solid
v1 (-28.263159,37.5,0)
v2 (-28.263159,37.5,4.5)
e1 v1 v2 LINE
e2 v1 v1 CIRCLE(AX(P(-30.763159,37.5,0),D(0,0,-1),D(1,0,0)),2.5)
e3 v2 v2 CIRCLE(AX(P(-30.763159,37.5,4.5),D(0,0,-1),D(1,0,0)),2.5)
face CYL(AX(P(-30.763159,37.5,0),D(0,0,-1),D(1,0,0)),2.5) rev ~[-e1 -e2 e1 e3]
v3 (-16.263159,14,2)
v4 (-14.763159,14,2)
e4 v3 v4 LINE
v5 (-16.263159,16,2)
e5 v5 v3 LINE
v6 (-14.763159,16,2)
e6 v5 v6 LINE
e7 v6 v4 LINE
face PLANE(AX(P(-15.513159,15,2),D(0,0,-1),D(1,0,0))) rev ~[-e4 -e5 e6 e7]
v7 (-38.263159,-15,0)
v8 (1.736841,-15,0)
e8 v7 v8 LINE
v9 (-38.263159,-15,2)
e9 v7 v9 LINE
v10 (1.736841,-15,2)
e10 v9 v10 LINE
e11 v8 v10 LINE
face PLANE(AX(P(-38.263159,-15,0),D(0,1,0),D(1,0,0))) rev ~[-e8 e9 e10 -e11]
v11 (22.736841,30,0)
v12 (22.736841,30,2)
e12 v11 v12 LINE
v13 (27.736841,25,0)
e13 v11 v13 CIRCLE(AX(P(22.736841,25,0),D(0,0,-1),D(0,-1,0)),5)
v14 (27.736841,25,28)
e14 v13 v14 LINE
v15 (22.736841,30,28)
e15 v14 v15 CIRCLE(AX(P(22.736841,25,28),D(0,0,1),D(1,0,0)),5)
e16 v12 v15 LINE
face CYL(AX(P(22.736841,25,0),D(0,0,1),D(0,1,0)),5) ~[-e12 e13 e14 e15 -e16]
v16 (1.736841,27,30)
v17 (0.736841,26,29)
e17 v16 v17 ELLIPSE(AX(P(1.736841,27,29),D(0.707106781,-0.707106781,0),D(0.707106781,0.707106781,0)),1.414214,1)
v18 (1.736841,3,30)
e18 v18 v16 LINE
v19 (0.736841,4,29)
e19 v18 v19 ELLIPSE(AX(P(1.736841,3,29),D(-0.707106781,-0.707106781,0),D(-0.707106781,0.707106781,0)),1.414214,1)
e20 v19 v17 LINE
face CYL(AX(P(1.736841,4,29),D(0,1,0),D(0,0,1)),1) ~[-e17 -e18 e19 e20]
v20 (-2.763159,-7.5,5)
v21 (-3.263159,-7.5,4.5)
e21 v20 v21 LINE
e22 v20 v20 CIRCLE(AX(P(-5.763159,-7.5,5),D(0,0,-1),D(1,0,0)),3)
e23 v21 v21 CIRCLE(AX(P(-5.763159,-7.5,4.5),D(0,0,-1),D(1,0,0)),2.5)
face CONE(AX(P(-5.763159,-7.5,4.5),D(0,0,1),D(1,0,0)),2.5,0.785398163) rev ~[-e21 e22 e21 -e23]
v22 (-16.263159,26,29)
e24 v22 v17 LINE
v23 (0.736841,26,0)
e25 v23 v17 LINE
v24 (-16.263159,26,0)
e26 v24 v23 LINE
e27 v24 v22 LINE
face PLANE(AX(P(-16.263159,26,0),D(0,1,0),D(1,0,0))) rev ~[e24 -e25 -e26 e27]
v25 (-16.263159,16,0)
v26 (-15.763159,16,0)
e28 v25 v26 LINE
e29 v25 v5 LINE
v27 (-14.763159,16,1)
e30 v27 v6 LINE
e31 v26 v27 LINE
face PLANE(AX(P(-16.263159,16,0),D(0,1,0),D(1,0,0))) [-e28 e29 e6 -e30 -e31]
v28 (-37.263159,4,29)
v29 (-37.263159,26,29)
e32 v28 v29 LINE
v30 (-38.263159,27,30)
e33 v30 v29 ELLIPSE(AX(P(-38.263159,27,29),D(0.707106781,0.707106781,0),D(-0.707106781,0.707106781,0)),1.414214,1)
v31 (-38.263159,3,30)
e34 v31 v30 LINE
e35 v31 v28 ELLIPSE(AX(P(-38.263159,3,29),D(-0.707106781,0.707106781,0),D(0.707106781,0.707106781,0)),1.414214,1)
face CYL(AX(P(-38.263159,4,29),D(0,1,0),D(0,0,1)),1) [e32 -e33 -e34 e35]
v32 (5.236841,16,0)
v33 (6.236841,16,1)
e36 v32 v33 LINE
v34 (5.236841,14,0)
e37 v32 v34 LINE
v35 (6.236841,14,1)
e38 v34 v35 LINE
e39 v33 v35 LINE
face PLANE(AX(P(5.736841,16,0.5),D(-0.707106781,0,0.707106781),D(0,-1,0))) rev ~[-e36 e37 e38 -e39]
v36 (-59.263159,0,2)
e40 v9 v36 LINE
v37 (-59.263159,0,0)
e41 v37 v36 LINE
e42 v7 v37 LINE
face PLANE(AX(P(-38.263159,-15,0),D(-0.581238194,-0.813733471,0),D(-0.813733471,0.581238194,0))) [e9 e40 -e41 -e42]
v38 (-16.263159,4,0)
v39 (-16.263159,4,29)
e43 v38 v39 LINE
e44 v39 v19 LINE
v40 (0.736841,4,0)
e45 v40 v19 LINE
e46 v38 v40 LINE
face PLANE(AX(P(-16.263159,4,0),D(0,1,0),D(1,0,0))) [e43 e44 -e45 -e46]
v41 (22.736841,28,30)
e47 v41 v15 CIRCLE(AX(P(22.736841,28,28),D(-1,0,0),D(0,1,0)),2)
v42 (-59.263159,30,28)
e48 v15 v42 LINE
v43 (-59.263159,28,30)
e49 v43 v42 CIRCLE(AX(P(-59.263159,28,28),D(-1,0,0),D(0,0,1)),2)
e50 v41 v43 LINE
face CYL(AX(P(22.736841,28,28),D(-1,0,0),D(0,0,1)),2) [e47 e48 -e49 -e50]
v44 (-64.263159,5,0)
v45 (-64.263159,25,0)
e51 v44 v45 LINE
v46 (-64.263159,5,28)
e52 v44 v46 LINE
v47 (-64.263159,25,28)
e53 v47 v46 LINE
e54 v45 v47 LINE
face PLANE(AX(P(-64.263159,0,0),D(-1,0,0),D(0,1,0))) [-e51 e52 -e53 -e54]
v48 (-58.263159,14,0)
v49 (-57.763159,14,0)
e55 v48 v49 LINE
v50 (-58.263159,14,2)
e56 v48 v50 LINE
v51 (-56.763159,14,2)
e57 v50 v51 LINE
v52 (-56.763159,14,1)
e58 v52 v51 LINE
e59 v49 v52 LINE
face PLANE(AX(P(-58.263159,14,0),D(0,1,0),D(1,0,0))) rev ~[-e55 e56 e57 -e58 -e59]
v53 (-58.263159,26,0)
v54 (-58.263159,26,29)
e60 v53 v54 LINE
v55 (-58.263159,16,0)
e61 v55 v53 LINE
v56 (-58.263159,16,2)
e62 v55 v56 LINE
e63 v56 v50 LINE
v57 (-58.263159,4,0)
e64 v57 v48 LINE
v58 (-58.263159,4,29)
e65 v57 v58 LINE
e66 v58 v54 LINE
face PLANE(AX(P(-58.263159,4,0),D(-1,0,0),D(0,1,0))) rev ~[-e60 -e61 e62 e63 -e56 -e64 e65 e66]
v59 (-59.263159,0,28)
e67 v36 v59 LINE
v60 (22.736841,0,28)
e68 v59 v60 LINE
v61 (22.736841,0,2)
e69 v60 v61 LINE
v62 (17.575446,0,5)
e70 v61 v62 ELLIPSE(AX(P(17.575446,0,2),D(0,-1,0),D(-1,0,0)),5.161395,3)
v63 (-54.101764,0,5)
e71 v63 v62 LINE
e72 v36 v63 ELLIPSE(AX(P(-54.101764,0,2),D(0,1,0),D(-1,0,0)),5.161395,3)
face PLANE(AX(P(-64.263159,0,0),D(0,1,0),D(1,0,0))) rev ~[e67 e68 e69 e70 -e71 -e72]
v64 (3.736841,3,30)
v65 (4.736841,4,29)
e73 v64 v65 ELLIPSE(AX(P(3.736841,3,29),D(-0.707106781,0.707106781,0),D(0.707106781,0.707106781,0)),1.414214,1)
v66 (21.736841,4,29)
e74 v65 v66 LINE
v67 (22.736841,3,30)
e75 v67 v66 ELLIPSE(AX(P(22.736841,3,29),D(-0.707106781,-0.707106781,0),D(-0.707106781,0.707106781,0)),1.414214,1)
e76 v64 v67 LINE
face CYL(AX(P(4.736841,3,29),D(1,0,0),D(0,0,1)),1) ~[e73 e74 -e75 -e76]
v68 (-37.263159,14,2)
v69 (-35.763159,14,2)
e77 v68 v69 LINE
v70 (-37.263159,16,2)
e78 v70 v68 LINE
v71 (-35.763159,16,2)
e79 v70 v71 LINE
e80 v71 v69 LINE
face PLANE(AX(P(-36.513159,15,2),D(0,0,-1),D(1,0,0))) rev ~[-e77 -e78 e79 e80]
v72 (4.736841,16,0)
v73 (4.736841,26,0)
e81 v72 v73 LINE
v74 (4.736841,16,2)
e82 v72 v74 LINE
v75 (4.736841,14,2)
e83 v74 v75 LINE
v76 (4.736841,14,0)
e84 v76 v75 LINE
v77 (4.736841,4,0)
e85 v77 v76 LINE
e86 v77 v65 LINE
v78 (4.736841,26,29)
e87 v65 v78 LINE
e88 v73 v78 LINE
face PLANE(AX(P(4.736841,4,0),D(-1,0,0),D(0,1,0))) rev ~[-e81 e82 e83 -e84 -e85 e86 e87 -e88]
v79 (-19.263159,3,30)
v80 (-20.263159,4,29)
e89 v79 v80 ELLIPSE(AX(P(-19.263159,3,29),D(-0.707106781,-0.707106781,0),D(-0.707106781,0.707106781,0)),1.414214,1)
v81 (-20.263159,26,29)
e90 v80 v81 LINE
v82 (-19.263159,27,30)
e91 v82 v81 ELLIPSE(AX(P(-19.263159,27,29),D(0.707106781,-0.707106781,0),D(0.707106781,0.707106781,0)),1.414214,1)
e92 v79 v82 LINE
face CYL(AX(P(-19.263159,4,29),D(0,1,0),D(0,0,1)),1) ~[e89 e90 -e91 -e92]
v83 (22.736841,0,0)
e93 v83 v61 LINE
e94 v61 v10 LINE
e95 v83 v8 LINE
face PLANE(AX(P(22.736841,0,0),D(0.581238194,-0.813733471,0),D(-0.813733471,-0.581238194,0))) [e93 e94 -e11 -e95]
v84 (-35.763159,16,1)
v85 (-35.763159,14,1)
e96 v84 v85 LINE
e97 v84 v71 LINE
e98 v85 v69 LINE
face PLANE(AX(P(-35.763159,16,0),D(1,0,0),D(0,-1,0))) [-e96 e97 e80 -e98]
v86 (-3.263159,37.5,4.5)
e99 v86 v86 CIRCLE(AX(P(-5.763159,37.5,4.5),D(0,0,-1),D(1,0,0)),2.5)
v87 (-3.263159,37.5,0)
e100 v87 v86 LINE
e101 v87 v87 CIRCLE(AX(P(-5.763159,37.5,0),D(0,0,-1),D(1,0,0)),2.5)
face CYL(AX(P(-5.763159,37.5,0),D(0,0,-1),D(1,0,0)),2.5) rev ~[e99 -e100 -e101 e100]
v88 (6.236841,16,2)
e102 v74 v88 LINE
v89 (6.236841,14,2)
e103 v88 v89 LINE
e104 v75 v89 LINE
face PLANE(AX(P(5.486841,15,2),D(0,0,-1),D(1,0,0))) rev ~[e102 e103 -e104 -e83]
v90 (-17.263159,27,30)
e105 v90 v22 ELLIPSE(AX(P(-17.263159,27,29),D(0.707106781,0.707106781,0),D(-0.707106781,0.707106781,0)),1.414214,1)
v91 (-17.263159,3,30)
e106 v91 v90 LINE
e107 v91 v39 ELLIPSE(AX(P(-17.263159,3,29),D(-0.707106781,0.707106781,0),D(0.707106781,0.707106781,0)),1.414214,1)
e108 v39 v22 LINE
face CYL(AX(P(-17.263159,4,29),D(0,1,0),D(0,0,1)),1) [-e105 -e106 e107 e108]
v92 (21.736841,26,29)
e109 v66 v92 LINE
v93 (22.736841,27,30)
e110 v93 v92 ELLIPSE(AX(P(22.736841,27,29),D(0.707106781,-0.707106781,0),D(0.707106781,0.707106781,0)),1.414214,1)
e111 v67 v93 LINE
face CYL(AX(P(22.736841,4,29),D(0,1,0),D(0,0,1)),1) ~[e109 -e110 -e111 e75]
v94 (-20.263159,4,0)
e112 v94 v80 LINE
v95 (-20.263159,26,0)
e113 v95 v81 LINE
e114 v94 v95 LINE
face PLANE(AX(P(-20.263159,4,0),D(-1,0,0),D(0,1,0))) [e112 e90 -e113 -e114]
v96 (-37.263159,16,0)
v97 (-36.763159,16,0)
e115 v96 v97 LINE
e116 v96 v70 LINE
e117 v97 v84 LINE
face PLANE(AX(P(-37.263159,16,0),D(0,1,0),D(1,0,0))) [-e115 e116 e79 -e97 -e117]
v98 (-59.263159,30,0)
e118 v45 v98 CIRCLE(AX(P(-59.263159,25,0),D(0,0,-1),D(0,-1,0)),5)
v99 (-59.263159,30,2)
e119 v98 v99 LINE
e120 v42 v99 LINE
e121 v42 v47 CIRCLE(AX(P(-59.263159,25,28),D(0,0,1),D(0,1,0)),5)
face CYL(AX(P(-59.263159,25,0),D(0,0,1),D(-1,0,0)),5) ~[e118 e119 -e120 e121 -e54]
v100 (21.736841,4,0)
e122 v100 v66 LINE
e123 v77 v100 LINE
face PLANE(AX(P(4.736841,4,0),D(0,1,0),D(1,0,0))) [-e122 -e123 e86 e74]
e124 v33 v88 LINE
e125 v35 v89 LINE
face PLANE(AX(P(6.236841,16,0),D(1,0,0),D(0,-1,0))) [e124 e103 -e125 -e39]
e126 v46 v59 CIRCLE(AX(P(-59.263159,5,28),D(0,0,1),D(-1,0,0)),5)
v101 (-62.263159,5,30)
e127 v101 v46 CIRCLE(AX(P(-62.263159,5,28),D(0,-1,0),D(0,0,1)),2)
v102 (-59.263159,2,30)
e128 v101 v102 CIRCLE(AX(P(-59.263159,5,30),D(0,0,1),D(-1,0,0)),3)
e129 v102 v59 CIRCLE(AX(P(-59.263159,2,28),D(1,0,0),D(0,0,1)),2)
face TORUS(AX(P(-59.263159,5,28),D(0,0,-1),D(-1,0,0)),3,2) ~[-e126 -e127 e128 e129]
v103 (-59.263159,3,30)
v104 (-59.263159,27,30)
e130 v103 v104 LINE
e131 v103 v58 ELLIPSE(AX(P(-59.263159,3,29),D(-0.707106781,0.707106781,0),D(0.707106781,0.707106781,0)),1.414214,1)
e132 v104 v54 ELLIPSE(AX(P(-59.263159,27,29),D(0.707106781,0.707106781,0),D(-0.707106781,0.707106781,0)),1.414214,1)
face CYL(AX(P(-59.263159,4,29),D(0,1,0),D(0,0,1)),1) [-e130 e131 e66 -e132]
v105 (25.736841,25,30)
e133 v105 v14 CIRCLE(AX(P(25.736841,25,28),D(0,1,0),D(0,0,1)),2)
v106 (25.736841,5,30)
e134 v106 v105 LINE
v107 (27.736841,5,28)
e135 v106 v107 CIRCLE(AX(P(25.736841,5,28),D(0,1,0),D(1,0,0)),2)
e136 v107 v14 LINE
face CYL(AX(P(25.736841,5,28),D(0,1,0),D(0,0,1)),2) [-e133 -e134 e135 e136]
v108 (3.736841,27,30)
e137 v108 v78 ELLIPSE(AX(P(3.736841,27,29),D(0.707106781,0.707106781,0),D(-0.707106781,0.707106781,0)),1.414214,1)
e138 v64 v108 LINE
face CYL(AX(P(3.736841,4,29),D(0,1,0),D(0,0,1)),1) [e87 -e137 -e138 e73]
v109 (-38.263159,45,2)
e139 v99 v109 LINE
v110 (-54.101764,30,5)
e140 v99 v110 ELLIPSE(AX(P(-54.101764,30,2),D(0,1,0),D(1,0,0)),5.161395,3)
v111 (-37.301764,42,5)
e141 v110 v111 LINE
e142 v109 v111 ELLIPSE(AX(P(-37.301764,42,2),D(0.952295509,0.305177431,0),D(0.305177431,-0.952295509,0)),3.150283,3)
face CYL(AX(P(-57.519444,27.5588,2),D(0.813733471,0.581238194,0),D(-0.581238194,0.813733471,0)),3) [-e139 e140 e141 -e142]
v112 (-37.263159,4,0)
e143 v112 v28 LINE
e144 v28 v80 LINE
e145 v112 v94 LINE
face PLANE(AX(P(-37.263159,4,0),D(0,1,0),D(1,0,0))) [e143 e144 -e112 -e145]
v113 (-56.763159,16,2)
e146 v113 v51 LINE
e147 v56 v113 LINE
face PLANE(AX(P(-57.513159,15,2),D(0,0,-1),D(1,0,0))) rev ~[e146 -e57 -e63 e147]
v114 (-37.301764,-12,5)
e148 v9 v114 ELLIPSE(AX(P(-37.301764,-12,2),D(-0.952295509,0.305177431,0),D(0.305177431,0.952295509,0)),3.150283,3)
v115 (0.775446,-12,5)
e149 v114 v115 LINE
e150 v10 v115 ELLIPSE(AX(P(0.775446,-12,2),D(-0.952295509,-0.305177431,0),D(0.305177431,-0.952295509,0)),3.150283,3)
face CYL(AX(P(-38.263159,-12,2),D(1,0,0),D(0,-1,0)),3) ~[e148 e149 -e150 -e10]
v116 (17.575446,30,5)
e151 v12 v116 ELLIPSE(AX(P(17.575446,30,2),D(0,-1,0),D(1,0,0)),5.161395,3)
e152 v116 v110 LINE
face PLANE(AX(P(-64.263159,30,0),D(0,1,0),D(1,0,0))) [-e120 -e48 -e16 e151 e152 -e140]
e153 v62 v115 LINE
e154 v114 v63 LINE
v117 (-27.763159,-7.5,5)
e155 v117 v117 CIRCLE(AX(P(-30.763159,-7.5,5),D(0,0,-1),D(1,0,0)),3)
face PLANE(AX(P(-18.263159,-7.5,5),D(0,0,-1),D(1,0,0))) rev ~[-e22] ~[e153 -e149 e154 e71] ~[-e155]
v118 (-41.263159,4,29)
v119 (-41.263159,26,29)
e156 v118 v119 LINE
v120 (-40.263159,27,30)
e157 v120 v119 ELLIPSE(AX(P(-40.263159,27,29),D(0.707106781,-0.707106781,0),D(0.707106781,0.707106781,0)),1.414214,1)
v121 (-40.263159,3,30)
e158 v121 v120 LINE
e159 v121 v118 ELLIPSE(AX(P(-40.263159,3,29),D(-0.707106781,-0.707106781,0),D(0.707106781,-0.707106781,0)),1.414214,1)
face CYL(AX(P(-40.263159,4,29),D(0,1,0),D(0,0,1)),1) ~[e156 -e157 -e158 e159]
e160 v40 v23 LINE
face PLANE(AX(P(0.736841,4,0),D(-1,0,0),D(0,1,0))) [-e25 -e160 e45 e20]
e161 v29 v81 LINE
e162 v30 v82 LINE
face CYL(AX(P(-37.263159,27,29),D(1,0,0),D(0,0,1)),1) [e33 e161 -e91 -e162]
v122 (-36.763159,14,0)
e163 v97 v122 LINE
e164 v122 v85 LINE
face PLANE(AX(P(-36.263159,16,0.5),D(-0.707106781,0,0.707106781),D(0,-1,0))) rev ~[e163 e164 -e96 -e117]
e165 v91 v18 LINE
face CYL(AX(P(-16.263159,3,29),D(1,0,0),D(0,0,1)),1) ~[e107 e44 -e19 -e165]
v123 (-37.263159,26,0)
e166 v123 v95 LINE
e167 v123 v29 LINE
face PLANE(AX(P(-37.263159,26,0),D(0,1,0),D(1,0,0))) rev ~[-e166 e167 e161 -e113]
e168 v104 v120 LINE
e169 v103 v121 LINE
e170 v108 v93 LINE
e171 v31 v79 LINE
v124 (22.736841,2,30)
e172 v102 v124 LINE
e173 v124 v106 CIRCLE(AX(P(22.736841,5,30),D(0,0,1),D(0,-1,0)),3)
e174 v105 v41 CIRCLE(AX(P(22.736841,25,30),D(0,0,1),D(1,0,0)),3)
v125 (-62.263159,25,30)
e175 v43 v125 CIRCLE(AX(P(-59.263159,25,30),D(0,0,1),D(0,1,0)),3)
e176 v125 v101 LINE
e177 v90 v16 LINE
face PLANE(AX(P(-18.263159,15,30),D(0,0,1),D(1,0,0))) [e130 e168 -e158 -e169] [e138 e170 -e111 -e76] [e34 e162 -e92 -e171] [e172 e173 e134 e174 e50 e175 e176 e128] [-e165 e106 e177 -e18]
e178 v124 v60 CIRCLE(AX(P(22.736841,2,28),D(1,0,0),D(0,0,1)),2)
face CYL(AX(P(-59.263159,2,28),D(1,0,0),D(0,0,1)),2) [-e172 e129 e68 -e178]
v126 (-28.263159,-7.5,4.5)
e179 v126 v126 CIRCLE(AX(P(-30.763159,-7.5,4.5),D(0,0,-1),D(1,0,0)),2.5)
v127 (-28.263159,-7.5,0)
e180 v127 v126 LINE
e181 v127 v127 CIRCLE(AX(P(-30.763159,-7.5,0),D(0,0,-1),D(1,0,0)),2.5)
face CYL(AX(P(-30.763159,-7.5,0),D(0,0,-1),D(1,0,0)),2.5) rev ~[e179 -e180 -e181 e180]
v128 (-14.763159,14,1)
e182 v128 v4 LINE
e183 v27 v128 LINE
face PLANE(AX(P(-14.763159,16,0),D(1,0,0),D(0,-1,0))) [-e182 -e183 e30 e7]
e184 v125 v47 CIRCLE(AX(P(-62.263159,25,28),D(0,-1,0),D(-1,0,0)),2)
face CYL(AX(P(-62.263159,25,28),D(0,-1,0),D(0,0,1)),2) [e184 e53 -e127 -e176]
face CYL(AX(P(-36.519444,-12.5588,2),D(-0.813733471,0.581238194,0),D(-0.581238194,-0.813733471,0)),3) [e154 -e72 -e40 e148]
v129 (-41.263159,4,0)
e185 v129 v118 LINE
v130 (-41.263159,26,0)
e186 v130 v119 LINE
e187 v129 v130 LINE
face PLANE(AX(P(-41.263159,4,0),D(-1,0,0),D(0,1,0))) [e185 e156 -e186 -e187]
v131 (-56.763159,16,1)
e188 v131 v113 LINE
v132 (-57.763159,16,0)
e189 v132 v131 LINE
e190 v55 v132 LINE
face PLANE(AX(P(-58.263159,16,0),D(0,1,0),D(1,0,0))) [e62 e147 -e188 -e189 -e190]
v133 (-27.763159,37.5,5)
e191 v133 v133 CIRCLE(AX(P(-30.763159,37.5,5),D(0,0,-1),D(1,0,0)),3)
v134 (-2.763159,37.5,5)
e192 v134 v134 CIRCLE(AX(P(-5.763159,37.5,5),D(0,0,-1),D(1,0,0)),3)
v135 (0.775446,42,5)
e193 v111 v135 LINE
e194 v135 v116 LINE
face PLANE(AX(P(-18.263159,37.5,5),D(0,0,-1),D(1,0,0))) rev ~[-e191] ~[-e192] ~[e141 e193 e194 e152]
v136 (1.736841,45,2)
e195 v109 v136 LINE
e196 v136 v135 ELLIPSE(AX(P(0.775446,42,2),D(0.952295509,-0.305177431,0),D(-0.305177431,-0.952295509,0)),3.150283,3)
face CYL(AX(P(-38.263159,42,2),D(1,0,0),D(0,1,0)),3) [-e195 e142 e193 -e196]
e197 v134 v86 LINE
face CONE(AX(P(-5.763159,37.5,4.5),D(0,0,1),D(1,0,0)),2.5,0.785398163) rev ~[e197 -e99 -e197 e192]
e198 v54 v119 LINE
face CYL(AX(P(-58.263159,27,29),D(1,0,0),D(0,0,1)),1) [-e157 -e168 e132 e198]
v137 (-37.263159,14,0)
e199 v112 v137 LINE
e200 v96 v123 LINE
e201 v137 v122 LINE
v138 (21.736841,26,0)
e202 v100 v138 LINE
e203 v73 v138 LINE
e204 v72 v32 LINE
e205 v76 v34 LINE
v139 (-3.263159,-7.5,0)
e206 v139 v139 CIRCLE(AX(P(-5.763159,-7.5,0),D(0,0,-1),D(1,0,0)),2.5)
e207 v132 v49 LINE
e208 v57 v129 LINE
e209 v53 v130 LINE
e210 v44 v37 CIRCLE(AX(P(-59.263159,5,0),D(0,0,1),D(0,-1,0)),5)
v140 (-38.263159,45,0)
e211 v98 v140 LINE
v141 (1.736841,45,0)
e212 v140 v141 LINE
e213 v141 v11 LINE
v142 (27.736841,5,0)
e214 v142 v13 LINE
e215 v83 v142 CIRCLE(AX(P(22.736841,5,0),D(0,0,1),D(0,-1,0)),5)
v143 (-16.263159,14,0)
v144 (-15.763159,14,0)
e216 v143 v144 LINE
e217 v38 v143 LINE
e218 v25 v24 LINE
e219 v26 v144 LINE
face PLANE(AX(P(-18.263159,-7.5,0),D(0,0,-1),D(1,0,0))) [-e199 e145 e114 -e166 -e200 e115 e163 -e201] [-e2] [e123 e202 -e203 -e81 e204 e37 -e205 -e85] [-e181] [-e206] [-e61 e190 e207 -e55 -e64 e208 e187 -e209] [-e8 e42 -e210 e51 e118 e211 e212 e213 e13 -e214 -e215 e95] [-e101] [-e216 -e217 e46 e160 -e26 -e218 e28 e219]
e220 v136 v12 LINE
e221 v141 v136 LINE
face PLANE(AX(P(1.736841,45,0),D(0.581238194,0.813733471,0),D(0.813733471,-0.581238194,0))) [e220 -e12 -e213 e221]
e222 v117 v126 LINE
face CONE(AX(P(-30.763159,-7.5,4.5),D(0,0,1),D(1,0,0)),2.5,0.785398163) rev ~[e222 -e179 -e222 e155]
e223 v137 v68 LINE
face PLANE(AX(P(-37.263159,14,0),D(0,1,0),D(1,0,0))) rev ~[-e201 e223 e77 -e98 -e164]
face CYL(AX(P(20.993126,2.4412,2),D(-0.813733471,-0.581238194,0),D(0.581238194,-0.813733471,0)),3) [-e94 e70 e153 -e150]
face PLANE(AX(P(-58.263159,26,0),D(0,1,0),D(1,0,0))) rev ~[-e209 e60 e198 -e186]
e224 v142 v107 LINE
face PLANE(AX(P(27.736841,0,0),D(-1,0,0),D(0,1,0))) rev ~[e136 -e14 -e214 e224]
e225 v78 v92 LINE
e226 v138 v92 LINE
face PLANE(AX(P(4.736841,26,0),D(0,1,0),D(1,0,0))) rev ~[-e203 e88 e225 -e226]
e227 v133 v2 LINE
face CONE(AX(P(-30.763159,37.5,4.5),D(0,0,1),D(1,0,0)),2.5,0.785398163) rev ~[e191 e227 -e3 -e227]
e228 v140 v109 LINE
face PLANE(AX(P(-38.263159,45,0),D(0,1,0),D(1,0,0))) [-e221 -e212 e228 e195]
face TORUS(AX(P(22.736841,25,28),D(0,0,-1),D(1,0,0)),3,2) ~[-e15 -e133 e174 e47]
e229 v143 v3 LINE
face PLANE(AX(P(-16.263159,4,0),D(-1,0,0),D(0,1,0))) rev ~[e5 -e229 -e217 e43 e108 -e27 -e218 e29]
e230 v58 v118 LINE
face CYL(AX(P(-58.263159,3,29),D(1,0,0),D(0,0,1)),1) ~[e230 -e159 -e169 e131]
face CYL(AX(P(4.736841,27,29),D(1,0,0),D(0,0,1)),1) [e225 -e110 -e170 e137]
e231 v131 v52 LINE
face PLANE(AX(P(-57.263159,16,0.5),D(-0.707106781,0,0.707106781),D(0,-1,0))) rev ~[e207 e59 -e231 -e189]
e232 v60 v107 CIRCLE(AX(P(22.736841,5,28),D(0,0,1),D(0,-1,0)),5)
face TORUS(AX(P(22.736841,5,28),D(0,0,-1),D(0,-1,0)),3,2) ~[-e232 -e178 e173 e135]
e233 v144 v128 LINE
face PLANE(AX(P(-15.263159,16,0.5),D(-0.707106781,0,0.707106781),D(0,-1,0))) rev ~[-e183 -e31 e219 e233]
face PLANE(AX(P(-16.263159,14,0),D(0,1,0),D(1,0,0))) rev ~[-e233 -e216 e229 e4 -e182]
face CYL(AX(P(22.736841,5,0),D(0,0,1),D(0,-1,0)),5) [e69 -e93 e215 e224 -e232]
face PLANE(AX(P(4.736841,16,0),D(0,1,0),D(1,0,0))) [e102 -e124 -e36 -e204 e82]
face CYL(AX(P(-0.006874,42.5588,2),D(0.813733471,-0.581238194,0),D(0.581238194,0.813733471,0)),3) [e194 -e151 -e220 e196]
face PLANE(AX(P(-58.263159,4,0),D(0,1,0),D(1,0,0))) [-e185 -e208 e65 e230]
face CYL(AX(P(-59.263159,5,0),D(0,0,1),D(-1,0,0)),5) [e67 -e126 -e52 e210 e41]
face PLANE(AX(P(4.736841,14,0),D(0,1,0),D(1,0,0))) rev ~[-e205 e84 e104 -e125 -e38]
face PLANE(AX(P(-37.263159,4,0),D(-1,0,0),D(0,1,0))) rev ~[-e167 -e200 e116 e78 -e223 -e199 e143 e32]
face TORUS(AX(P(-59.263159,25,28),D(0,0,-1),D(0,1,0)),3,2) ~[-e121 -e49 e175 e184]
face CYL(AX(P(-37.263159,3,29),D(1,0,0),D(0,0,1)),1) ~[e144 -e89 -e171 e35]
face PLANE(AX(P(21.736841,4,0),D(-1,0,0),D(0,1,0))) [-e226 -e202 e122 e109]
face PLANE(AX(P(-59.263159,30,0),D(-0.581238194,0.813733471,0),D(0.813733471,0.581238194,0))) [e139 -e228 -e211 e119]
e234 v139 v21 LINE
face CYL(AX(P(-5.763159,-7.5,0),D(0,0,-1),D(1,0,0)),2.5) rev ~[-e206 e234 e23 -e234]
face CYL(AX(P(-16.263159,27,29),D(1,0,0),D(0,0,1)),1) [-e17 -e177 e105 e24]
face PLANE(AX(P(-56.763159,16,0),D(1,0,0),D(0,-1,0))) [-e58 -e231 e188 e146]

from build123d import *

# Parameters (mm, degrees)
F0_W     = 92
F0_H     = 30
F0_W_2   = 17
F0_H_2   = 22
F1_DEPTH = 30
F2_R     = 5
F3_R     = 2
F4_R     = 1
F5_W     = 1.5
F5_H     = 2
F6_DEPTH = 2
F7_SIZE  = 1
F8_W     = 40
F8_H     = 15
F8_R     = 2.5
F9_DEPTH = 5
F10_R    = 3
F11_SIZE = 0.5


with BuildPart() as f1:
    # F0 (on Top) → F1 (new body)
    with BuildSketch(Plane.XY):
        with Locations((-18.263159, 15)):
            Rectangle(F0_W, F0_H)
        with Locations((-49.763159, 15)):
            Rectangle(F0_W_2, F0_H_2, mode=Mode.SUBTRACT)
        with Locations((-28.763159, 15)):
            Rectangle(F0_W_2, F0_H_2, mode=Mode.SUBTRACT)
        with Locations((-7.763159, 15)):
            Rectangle(F0_W_2, F0_H_2, mode=Mode.SUBTRACT)
        with Locations((13.236841, 15)):
            Rectangle(F0_W_2, F0_H_2, mode=Mode.SUBTRACT)
    extrude(amount=F1_DEPTH)

    # F2
    f2_edges = [f1.edges().sort_by_distance(p)[0] for p in [
        (27.736841, 0, 15),
        (27.736841, 30, 15),
        (-64.263159, 0, 15),
        (-64.263159, 30, 15),
    ]]
    fillet(f2_edges, radius=F2_R)

    # F3
    f3_edges = [f1.edges().sort_by_distance(p)[0] for p in [
        (-18.263159, 0, 30),
        (-18.263159, 30, 30),
    ]]
    fillet(f3_edges, radius=F3_R)

    # F4
    f4_edges = [f1.edges().sort_by_distance(p)[0] for p in [
        (-58.263159, 15, 30),
        (-49.763159, 4, 30),
        (-41.263159, 15, 30),
        (-49.763159, 26, 30),
        (-37.263159, 15, 30),
        (-28.763159, 26, 30),
        (-20.263159, 15, 30),
        (-28.763159, 4, 30),
        (-16.263159, 15, 30),
        (-7.763159, 26, 30),
        (0.736841, 15, 30),
        (-7.763159, 4, 30),
        (4.736841, 15, 30),
        (13.236841, 26, 30),
        (21.736841, 15, 30),
        (13.236841, 4, 30),
    ]]
    fillet(f4_edges, radius=F4_R)

    # F5 (on face) → F6 (join)
    with BuildSketch(Plane(origin=(0, 0, 0), x_dir=(1, 0, 0), z_dir=(0, 0, -1))):
        with Locations((-57.513159, -15)):
            Rectangle(F5_W, F5_H)
        with Locations((-36.513159, -15)):
            Rectangle(F5_W, F5_H)
        with Locations((-15.513159, -15)):
            Rectangle(F5_W, F5_H)
        with Locations((5.486841, -15)):
            Rectangle(F5_W, F5_H)
    extrude(amount=-F6_DEPTH)

    # F7
    f7_edges = [f1.edges().sort_by_distance(p)[0] for p in [
        (-56.763159, 15, 0),
        (-35.763159, 15, 0),
        (-14.763159, 15, 0),
        (6.236841, 15, 0),
    ]]
    chamfer(f7_edges, length=F7_SIZE)

    # F8 (on face) → F9 (join)
    with BuildSketch(Plane(origin=(0, 0, 0), x_dir=(1, 0, 0), z_dir=(0, 0, -1))):
        with Locations((-18.263159, 7.5)):
            Rectangle(F8_W, F8_H)
        with Locations((-30.763159, 7.5)):
            Circle(F8_R, mode=Mode.SUBTRACT)
        with Locations((-5.763159, 7.5)):
            Circle(F8_R, mode=Mode.SUBTRACT)
        Polygon((-59.263159, 0), (-38.263159, 0), (-38.263159, 15), align=None)
        Polygon((1.736841, 15), (1.736841, 0), (22.736841, 0), align=None)
        with Locations((-18.263159, -37.5)):
            Rectangle(F8_W, F8_H)
        with Locations((-30.763159, -37.5)):
            Circle(F8_R, mode=Mode.SUBTRACT)
        with Locations((-5.763159, -37.5)):
            Circle(F8_R, mode=Mode.SUBTRACT)
        Polygon((22.736841, -30), (1.736841, -30), (1.736841, -45), align=None)
        Polygon((-38.263159, -45), (-38.263159, -30), (-59.263159, -30), align=None)
    extrude(amount=-F9_DEPTH)

    # F10
    f10_edges = [f1.edges().sort_by_distance(p)[0] for p in [
        (12.236841, -7.5, 5),
        (-18.263159, -15, 5),
        (-48.763159, -7.5, 5),
        (12.236841, 37.5, 5),
        (-18.263159, 45, 5),
        (-48.763159, 37.5, 5),
    ]]
    fillet(f10_edges, radius=F10_R)

    # F11
    f11_edges = [f1.edges().sort_by_distance(p)[0] for p in [
        (-8.263159, 37.5, 5),
        (-33.263159, 37.5, 5),
        (-8.263159, -7.5, 5),
        (-33.263159, -7.5, 5),
    ]]
    chamfer(f11_edges, length=F11_SIZE)


solid = f1.part
